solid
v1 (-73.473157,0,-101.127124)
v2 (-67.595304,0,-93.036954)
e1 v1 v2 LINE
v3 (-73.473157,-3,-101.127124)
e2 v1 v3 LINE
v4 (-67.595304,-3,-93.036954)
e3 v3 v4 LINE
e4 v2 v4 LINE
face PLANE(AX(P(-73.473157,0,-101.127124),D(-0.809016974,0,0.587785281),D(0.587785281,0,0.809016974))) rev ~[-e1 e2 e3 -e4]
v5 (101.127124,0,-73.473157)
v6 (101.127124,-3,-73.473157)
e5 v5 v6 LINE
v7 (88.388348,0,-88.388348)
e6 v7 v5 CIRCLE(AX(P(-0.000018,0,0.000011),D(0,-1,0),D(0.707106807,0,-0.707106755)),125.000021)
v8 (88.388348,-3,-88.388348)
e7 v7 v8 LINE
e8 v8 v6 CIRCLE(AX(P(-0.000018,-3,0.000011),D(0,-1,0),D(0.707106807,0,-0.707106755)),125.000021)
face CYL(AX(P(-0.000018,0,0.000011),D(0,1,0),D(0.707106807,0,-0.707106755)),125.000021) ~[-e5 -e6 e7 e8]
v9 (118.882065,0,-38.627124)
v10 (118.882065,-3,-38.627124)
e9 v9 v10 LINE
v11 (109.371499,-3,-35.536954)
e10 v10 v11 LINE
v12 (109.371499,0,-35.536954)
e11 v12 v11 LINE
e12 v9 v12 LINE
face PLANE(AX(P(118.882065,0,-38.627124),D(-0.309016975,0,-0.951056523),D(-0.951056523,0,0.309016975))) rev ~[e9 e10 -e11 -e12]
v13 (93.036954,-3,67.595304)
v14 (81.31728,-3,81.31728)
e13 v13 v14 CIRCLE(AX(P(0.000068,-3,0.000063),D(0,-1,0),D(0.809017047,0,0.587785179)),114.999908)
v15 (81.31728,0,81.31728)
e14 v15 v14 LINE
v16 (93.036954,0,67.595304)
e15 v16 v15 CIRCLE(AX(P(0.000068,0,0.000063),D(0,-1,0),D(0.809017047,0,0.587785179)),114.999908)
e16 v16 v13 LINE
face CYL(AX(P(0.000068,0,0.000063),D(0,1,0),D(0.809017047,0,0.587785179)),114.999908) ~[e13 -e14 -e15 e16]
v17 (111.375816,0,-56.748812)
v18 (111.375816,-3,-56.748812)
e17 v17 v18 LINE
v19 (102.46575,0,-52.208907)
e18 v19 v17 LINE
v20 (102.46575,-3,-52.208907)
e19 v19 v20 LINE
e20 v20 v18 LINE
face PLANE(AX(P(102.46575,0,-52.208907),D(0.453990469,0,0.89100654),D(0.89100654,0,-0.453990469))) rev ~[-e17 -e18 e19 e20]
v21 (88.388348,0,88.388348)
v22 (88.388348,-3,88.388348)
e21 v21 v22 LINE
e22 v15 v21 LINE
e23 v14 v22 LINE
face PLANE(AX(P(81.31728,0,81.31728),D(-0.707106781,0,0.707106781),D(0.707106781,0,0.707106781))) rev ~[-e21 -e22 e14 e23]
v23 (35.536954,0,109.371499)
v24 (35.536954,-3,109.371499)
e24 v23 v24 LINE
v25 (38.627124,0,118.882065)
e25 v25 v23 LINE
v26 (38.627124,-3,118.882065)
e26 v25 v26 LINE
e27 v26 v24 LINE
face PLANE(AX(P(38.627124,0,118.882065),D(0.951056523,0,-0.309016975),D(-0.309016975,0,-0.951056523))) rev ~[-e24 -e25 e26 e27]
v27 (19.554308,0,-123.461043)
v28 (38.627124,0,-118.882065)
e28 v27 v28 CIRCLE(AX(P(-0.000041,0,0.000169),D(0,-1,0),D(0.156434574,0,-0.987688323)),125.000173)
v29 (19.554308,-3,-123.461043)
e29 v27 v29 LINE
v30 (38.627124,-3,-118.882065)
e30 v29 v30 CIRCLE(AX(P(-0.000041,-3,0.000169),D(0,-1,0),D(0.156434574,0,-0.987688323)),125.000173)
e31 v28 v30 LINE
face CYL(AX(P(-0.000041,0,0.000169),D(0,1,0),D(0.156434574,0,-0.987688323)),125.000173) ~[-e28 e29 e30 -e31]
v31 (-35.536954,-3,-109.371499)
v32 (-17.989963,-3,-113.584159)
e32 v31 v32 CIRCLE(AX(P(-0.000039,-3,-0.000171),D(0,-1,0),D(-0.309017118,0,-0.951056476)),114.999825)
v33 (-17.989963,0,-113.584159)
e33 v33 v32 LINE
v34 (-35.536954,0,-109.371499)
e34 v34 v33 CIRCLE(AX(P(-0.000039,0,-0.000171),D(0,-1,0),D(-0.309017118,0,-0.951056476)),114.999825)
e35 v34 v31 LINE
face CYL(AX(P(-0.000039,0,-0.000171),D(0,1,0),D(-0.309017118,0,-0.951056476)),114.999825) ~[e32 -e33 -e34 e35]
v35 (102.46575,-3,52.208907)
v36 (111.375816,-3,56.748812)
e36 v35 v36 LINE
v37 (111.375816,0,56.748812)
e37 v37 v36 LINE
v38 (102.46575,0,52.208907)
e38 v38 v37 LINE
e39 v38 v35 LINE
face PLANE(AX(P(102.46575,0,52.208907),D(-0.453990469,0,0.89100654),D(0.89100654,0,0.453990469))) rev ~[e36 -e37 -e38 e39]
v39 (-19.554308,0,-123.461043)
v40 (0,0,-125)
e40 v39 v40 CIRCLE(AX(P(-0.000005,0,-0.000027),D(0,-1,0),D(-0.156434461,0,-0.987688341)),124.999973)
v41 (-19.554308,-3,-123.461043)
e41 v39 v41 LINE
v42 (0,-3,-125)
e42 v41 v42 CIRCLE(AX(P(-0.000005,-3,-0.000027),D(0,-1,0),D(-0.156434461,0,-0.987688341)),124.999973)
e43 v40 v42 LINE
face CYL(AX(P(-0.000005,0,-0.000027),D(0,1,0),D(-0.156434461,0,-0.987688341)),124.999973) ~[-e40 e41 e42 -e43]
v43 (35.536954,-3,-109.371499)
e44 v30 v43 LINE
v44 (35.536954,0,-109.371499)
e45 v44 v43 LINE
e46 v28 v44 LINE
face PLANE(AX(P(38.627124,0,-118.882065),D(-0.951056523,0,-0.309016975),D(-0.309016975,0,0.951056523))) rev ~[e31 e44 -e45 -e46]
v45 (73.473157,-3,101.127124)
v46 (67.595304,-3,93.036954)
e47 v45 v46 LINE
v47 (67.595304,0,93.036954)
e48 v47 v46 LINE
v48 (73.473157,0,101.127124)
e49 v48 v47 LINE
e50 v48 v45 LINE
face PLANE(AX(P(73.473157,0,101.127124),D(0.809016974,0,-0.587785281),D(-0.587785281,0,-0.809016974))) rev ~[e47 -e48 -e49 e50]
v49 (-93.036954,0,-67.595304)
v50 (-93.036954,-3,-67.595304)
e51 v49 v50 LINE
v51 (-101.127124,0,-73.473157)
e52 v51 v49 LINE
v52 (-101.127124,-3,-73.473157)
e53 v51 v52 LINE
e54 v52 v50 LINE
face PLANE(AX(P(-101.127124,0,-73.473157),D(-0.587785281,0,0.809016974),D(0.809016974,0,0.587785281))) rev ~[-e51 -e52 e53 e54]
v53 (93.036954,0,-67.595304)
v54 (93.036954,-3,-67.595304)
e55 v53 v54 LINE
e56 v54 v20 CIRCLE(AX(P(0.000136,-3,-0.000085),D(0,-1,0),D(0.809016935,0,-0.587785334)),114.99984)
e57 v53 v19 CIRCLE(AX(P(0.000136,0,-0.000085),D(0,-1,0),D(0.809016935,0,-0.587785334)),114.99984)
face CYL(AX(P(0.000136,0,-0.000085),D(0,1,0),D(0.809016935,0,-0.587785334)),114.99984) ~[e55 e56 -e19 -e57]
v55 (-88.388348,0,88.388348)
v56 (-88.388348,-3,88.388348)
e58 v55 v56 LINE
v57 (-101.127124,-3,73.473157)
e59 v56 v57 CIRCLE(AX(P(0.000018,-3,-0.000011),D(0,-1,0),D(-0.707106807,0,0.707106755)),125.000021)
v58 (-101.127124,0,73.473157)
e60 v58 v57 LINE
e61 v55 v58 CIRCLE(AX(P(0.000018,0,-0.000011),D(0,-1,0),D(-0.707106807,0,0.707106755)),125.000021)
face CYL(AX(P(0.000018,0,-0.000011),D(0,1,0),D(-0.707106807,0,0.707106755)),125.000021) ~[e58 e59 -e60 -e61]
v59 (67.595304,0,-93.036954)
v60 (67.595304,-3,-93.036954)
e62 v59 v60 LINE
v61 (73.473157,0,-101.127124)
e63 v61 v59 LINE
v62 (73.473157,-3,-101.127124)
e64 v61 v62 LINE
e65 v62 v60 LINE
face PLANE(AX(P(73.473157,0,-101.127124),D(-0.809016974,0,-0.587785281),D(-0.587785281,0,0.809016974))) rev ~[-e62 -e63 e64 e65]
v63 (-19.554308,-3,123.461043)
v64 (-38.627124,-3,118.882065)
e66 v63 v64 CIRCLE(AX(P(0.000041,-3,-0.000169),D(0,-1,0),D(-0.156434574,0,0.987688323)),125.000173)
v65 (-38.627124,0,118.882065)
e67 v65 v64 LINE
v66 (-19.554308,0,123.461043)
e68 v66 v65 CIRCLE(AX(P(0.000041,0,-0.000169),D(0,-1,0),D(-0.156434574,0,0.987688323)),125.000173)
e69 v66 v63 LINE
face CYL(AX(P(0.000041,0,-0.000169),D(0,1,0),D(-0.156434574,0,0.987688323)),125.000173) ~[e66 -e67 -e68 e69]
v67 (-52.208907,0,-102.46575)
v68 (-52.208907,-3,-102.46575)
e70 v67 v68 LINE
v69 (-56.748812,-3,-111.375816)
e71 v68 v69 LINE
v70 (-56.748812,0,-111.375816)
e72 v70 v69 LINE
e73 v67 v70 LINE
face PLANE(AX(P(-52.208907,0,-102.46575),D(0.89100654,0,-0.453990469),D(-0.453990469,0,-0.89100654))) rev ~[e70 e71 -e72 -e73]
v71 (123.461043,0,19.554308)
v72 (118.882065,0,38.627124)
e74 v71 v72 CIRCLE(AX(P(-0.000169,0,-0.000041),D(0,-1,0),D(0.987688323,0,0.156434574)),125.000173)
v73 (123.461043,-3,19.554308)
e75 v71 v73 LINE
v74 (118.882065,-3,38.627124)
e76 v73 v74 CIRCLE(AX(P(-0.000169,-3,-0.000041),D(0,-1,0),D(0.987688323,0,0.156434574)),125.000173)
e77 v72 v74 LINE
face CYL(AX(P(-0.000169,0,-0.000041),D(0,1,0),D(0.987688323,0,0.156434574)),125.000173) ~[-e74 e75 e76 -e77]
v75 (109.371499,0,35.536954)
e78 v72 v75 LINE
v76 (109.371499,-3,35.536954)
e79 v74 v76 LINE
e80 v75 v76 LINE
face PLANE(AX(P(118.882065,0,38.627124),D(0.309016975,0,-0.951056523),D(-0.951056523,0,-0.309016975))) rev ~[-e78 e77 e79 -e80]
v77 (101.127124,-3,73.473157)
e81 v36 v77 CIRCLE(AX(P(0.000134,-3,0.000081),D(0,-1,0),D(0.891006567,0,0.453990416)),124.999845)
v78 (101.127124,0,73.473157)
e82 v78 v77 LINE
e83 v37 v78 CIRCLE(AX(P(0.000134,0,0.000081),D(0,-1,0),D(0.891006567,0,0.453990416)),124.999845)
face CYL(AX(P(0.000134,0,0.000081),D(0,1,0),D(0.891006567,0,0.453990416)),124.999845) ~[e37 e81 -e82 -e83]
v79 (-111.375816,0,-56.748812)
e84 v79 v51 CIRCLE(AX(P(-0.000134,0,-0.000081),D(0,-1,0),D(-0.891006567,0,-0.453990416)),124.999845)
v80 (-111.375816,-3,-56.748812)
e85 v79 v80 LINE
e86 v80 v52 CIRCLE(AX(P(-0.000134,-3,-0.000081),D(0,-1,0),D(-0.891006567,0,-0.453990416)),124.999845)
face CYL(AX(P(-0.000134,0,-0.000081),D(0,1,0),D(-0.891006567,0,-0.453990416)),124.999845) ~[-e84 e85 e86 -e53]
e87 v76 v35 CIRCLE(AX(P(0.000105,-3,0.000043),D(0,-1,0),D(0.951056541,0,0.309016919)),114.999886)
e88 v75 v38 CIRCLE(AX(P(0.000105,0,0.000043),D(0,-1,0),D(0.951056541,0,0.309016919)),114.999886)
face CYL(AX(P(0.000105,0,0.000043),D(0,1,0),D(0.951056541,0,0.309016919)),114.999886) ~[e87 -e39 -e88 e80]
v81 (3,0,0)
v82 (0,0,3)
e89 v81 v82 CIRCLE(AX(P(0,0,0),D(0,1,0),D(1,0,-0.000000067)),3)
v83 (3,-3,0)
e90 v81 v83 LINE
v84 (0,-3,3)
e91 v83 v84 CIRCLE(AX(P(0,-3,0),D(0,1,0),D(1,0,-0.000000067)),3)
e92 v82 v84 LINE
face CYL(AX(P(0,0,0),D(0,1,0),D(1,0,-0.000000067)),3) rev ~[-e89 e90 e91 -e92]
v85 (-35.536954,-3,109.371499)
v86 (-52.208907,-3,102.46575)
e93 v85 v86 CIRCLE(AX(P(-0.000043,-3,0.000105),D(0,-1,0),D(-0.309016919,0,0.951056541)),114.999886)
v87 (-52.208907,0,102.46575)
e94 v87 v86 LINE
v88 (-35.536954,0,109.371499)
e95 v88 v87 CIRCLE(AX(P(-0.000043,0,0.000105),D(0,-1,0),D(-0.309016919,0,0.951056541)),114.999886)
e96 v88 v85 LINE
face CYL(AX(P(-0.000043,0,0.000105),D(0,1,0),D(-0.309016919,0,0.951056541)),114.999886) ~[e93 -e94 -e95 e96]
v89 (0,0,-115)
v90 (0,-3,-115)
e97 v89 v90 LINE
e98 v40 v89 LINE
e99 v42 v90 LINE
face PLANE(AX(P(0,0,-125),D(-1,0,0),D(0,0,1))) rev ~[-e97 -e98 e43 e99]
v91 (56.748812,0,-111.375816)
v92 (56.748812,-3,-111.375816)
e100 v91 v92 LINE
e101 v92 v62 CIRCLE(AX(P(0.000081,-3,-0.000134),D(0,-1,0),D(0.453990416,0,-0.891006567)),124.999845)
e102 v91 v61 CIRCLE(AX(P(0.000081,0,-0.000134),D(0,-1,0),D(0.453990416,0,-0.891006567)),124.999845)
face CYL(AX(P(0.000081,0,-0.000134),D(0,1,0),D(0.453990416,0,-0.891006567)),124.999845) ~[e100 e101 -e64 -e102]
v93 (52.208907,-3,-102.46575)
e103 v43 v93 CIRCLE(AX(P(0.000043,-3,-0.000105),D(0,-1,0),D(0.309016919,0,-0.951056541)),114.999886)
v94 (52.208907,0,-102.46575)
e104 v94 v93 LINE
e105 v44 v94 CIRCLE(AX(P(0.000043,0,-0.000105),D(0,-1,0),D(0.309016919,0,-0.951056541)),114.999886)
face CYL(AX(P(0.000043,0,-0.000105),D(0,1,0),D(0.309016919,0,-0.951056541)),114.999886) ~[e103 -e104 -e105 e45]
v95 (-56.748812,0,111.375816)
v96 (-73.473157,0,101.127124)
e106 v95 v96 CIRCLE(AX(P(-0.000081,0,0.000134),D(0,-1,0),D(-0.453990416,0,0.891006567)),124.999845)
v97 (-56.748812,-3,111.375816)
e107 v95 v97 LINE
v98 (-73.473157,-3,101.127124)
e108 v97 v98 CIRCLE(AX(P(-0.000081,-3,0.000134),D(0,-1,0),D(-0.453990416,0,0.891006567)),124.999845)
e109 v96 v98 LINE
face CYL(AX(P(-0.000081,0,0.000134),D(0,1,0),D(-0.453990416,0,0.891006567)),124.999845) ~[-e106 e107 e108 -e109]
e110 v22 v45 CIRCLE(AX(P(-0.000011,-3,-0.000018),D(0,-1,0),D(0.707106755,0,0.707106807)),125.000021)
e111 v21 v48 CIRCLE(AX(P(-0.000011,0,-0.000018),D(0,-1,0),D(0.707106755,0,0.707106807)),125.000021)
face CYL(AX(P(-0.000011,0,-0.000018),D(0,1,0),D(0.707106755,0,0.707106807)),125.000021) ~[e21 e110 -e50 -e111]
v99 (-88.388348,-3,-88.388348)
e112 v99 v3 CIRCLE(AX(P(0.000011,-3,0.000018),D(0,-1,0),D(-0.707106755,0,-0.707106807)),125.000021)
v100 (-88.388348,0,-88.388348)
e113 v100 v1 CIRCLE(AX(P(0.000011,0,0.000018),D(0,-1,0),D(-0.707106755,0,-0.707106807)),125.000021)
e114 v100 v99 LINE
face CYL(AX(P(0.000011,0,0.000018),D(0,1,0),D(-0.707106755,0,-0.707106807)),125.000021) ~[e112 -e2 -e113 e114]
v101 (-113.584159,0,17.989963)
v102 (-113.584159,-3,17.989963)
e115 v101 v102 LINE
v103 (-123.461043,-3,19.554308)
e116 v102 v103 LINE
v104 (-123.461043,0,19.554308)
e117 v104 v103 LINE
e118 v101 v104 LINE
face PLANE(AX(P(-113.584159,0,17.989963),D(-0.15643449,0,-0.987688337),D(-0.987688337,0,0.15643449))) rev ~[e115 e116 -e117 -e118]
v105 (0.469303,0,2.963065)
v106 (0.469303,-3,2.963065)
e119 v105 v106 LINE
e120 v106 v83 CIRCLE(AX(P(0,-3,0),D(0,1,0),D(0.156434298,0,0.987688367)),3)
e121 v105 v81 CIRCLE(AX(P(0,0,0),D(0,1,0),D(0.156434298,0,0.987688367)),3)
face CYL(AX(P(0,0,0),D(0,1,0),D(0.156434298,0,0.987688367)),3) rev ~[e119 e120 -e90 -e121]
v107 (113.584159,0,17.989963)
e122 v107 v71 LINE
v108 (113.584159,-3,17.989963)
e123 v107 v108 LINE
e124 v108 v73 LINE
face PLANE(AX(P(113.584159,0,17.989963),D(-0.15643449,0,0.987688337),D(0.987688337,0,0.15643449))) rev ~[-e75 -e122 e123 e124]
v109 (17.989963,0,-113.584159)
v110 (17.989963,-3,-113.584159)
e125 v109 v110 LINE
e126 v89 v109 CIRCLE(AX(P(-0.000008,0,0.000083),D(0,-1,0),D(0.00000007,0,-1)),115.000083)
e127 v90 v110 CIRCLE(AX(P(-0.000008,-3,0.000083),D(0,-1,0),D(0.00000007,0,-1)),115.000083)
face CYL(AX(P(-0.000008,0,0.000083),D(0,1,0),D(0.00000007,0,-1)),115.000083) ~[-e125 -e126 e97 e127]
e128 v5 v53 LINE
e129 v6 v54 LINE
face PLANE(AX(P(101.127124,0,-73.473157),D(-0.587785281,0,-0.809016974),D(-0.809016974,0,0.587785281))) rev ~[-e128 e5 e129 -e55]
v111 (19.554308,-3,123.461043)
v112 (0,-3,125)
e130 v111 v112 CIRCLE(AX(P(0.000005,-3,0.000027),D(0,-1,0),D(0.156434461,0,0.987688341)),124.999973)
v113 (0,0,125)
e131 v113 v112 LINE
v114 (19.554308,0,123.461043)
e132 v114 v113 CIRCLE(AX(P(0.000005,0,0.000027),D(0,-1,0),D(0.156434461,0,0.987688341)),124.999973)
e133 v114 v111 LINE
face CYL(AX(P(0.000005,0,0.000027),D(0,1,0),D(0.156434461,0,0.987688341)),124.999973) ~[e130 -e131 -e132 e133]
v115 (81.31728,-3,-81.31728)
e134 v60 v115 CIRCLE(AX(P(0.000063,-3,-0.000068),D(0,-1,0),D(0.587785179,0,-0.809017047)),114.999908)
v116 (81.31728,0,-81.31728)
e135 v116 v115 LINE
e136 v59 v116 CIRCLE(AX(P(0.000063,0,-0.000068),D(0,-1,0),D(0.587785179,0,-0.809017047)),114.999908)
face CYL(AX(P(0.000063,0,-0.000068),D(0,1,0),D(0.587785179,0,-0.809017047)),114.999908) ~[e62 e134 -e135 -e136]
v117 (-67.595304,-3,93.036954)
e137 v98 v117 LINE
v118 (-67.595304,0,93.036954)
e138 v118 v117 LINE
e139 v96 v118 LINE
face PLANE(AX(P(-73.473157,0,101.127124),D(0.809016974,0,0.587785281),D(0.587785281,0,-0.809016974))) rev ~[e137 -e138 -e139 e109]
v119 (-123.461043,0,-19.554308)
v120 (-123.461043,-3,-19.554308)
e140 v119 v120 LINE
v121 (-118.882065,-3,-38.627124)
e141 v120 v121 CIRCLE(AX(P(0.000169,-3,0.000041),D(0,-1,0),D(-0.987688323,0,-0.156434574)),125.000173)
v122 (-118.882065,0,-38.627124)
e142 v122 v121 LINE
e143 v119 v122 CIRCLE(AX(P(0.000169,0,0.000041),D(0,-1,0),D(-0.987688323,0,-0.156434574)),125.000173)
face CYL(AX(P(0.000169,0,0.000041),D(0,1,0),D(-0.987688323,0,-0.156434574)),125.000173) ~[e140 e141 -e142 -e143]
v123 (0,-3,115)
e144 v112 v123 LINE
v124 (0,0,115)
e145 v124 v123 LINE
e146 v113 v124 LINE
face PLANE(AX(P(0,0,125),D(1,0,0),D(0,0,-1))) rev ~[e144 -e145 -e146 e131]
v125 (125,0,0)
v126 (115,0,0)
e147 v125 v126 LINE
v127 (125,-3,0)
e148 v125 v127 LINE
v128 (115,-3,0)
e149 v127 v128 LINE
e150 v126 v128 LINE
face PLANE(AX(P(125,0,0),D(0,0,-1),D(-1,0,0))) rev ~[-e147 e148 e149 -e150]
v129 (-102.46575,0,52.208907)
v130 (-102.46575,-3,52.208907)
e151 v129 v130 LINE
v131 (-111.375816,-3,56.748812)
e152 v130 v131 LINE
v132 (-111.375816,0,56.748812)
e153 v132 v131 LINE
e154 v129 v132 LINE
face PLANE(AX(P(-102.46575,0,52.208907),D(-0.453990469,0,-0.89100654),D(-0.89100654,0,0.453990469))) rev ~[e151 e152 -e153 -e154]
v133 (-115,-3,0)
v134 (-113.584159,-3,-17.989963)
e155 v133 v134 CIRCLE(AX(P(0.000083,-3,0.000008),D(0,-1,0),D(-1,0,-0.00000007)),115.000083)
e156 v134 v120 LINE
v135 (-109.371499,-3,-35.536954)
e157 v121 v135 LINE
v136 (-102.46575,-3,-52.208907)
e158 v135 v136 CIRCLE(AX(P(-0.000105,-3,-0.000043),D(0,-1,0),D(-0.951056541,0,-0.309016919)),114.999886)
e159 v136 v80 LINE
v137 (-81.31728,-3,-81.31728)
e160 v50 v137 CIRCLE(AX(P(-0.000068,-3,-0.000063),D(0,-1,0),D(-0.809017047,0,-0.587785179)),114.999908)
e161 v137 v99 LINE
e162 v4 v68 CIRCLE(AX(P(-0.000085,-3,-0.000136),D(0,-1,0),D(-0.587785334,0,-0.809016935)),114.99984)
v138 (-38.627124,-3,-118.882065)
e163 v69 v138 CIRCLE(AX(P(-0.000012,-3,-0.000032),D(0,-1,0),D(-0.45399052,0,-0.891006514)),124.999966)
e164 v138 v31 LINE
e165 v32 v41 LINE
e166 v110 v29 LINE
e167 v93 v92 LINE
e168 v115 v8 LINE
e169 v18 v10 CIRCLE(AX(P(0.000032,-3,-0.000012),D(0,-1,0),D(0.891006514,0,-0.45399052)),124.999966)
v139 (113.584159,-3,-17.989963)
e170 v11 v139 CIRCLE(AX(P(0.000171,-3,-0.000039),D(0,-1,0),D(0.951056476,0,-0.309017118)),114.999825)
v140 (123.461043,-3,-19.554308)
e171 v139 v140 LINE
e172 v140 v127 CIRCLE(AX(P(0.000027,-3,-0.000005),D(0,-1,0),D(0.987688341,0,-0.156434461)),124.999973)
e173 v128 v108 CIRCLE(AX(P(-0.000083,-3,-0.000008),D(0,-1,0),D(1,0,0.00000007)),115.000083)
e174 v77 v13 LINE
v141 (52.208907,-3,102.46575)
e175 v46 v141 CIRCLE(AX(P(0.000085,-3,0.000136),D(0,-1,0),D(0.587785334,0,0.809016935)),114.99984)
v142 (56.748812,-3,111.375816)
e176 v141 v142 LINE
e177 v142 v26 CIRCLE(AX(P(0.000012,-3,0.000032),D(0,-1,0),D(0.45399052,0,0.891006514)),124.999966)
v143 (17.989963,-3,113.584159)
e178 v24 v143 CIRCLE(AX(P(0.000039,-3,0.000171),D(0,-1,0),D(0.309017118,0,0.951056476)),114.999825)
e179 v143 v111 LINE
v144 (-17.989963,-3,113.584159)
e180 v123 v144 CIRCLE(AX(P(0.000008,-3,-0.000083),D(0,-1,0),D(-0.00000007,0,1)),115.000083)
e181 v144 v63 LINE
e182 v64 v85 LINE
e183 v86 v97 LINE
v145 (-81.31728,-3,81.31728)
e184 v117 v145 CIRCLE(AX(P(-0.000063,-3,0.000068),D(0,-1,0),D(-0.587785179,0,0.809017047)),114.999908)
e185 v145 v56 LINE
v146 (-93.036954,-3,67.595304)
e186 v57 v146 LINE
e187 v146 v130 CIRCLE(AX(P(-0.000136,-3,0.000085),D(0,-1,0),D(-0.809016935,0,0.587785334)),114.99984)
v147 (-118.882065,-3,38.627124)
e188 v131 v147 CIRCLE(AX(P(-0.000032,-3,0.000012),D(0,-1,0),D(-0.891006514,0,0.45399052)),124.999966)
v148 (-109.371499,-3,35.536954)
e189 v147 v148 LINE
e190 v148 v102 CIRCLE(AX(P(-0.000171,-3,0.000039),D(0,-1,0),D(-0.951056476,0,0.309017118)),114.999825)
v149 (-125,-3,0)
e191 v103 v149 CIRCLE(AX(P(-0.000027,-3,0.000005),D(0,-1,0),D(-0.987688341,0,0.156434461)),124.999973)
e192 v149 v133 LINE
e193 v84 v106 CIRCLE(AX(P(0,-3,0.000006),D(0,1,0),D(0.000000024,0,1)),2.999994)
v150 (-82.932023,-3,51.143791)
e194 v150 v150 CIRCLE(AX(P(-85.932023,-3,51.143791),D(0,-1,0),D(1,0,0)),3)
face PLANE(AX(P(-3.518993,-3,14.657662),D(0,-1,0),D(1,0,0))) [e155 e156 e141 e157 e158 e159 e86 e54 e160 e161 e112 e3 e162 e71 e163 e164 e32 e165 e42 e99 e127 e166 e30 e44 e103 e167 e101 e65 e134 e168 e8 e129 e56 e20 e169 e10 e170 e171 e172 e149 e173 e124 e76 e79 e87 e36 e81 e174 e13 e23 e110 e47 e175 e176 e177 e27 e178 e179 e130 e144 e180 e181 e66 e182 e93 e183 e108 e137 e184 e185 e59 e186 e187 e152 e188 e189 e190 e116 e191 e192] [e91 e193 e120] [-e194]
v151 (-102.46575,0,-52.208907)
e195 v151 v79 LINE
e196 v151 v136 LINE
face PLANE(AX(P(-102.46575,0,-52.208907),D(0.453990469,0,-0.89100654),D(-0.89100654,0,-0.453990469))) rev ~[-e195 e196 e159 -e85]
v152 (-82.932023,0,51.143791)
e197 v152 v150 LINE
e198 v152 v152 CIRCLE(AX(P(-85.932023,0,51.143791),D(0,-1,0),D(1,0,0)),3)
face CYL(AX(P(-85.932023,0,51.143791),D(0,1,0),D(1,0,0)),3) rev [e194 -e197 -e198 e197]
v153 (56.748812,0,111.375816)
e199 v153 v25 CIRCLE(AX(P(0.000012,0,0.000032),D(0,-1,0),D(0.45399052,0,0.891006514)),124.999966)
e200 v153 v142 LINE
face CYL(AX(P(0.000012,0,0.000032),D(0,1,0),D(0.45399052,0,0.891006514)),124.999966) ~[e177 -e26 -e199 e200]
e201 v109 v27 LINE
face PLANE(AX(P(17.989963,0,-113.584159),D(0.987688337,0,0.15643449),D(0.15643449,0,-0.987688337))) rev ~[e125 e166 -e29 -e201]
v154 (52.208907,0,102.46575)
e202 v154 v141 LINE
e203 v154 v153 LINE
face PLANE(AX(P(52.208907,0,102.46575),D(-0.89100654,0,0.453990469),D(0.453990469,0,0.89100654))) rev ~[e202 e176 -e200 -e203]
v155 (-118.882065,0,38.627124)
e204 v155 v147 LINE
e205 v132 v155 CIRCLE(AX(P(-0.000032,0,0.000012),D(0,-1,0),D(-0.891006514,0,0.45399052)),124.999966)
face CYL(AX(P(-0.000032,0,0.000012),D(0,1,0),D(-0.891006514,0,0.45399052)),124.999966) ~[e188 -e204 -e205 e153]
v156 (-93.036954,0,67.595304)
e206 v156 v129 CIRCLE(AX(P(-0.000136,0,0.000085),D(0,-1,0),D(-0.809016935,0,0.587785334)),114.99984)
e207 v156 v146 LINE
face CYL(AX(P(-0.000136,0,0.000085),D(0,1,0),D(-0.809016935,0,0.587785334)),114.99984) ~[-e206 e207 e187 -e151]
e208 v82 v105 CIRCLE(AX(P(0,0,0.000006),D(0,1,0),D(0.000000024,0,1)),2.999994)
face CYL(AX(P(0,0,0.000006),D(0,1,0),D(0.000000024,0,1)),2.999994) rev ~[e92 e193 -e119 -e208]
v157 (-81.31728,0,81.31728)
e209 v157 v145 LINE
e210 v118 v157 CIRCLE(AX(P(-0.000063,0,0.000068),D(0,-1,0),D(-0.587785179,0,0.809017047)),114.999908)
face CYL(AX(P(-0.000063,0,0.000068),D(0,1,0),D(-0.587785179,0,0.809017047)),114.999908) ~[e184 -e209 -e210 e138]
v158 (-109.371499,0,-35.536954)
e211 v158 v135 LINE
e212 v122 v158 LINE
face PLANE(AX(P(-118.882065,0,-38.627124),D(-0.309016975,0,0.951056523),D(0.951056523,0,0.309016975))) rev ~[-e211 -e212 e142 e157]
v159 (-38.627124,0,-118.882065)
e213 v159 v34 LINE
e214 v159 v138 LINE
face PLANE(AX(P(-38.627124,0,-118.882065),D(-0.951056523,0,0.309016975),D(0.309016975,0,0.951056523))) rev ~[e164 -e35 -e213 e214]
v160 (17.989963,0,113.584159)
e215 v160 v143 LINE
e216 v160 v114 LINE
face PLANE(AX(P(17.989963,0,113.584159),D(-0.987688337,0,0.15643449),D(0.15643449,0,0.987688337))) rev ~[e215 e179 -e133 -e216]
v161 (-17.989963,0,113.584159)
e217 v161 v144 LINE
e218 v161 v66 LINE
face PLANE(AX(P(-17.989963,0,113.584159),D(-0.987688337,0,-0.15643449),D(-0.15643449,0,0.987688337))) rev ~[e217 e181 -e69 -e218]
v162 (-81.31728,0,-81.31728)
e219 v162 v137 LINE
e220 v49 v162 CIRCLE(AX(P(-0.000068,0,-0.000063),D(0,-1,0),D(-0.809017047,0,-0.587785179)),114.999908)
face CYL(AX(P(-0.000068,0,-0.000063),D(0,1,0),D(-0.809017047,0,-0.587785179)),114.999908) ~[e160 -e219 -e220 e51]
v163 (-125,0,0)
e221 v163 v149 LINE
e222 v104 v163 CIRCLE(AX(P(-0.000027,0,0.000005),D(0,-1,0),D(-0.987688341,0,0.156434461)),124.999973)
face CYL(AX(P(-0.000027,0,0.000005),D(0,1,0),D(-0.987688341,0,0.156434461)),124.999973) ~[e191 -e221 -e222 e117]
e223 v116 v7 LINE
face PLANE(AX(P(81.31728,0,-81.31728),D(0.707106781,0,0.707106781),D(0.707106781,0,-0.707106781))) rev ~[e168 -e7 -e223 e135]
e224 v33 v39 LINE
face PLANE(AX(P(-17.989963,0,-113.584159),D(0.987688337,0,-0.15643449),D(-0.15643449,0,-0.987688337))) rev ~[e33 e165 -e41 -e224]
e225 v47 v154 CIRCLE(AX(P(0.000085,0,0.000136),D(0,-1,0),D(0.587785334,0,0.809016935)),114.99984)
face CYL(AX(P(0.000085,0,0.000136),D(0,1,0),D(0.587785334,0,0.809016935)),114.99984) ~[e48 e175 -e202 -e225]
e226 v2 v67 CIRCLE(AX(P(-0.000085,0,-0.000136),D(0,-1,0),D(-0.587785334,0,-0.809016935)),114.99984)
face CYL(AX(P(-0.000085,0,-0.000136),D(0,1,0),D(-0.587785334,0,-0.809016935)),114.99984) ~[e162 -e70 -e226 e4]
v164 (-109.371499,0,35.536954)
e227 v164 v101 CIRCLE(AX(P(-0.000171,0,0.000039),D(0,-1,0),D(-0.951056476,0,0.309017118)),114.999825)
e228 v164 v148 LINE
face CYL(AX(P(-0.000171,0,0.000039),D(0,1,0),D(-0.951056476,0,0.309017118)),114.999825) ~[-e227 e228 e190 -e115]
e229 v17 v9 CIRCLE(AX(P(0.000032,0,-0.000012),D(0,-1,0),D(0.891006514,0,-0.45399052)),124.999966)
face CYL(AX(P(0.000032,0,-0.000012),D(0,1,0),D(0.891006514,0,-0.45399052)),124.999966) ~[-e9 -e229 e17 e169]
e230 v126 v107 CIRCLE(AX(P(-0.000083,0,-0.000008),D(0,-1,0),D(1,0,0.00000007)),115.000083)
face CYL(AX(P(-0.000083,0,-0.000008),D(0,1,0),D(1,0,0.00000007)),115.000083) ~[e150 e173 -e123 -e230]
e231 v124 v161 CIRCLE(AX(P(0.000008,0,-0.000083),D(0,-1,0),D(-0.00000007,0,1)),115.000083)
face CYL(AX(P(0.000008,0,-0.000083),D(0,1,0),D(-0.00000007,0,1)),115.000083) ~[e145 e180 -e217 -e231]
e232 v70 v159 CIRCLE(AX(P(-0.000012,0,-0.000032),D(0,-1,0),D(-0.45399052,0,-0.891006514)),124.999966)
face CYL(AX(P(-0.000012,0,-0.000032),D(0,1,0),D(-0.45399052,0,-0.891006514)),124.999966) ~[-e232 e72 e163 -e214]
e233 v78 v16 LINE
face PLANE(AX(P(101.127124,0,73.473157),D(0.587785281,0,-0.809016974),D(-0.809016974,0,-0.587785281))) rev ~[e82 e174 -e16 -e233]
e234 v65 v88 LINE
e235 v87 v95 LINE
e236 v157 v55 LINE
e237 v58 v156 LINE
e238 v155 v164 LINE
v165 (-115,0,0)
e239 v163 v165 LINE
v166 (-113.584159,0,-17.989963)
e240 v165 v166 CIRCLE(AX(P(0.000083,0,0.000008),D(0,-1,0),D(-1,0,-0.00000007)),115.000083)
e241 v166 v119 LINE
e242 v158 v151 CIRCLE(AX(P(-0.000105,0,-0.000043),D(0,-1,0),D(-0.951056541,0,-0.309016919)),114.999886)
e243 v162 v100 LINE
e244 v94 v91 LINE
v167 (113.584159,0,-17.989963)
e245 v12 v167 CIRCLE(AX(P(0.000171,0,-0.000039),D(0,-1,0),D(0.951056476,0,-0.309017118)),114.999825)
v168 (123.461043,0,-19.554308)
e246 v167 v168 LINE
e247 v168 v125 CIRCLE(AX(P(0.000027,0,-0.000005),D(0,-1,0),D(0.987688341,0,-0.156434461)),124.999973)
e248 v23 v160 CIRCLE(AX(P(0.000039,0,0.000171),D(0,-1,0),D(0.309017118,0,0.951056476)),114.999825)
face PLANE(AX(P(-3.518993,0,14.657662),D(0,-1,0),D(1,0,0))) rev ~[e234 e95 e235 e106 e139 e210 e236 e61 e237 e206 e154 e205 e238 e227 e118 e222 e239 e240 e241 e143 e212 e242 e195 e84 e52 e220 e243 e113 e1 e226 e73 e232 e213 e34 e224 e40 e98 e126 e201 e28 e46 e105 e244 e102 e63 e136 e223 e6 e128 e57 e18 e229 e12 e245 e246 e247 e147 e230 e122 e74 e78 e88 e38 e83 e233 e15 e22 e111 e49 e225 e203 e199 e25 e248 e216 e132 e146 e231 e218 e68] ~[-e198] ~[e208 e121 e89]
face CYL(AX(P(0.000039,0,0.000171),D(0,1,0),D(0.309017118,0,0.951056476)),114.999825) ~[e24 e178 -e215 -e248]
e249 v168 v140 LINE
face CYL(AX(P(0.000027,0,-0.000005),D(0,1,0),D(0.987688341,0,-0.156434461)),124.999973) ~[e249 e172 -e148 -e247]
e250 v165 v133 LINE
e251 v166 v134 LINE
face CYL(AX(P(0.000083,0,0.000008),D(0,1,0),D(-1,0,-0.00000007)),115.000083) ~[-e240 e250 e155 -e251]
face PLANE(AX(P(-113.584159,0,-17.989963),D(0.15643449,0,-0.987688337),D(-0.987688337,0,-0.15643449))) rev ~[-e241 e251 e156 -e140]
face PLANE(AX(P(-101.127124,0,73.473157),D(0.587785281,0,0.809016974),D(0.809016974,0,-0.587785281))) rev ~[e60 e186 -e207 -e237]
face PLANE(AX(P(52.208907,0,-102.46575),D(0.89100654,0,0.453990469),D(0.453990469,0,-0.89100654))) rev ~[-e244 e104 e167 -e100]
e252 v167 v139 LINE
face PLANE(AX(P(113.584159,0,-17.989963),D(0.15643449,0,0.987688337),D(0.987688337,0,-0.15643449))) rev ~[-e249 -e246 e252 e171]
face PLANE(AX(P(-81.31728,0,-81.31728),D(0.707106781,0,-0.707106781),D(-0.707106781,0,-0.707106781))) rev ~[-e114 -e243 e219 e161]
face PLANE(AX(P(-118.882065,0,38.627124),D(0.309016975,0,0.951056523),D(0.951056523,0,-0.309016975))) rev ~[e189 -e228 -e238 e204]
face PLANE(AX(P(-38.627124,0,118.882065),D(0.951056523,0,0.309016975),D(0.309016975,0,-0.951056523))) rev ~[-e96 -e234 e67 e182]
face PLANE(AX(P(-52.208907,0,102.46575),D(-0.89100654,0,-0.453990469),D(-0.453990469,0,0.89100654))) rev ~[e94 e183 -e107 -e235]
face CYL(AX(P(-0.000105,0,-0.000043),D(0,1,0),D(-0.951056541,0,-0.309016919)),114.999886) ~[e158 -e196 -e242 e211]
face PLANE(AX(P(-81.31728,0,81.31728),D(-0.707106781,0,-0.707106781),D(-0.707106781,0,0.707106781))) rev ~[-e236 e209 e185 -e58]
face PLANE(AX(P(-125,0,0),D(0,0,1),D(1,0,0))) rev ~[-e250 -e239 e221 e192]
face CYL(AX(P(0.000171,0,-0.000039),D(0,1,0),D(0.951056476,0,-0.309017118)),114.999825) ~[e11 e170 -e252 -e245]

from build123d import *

# Parameters (mm, degrees)
F0_R     = 3
F1_DEPTH = 3


with BuildPart() as f1:
    # F0 (on Front) → F1 (new body)
    with BuildSketch(Plane.XZ):
        with BuildLine():
            Line((17.989963, 113.584159), (19.554308, 123.461043))
            ThreePointArc((19.554308, 123.461043), (9.807387, 124.614667), (0, 125))
            Line((0, 125), (0, 115))
            ThreePointArc((0, 115), (-9.022796, 114.645493), (-17.989963, 113.584159))
            Line((-17.989963, 113.584159), (-19.554308, 123.461043))
            ThreePointArc((-19.554308, 123.461043), (-29.18067, 121.54624), (-38.627124, 118.882065))
            Line((-38.627124, 118.882065), (-35.536954, 109.371499))
            ThreePointArc((-35.536954, 109.371499), (-44.008595, 106.246146), (-52.208907, 102.46575))
            Line((-52.208907, 102.46575), (-56.748812, 111.375816))
            ThreePointArc((-56.748812, 111.375816), (-65.312321, 106.580021), (-73.473157, 101.127124))
            Line((-73.473157, 101.127124), (-67.595304, 93.036954))
            ThreePointArc((-67.595304, 93.036954), (-74.686526, 87.446686), (-81.31728, 81.31728))
            Line((-81.31728, 81.31728), (-88.388348, 88.388348))
            ThreePointArc((-88.388348, 88.388348), (-95.050746, 81.181006), (-101.127124, 73.473157))
            Line((-101.127124, 73.473157), (-93.036954, 67.595304))
            ThreePointArc((-93.036954, 67.595304), (-98.053619, 60.087335), (-102.46575, 52.208907))
            ThreePointArc((-102.46575, 52.208907), (-106.246146, 44.008595), (-109.371499, 35.536954))
            ThreePointArc((-109.371499, 35.536954), (-111.822541, 26.846217), (-113.584159, 17.989963))
            ThreePointArc((-113.584159, 17.989963), (-114.645493, 9.022796), (-115, 0))
            ThreePointArc((-115, 0), (-114.645493, -9.022796), (-113.584159, -17.989963))
            ThreePointArc((-113.584159, -17.989963), (-111.822541, -26.846217), (-109.371499, -35.536954))
            ThreePointArc((-109.371499, -35.536954), (-106.246146, -44.008595), (-102.46575, -52.208907))
            ThreePointArc((-102.46575, -52.208907), (-98.053619, -60.087335), (-93.036954, -67.595304))
            ThreePointArc((-93.036954, -67.595304), (-87.446686, -74.686526), (-81.31728, -81.31728))
            ThreePointArc((-81.31728, -81.31728), (-74.686526, -87.446686), (-67.595304, -93.036954))
            ThreePointArc((-67.595304, -93.036954), (-60.087335, -98.053619), (-52.208907, -102.46575))
            ThreePointArc((-52.208907, -102.46575), (-44.008595, -106.246146), (-35.536954, -109.371499))
            ThreePointArc((-35.536954, -109.371499), (-26.846217, -111.822541), (-17.989963, -113.584159))
            ThreePointArc((-17.989963, -113.584159), (-9.022796, -114.645493), (0, -115))
            ThreePointArc((0, -115), (9.022796, -114.645493), (17.989963, -113.584159))
            ThreePointArc((17.989963, -113.584159), (26.846217, -111.822541), (35.536954, -109.371499))
            ThreePointArc((35.536954, -109.371499), (44.008595, -106.246146), (52.208907, -102.46575))
            ThreePointArc((52.208907, -102.46575), (60.087335, -98.053619), (67.595304, -93.036954))
            ThreePointArc((67.595304, -93.036954), (74.686526, -87.446686), (81.31728, -81.31728))
            ThreePointArc((81.31728, -81.31728), (87.446686, -74.686526), (93.036954, -67.595304))
            ThreePointArc((93.036954, -67.595304), (98.053619, -60.087335), (102.46575, -52.208907))
            ThreePointArc((102.46575, -52.208907), (106.246146, -44.008595), (109.371499, -35.536954))
            ThreePointArc((109.371499, -35.536954), (111.822541, -26.846217), (113.584159, -17.989963))
            ThreePointArc((113.584159, -17.989963), (114.645493, -9.022796), (115, 0))
            ThreePointArc((115, 0), (114.645493, 9.022796), (113.584159, 17.989963))
            ThreePointArc((113.584159, 17.989963), (111.822541, 26.846217), (109.371499, 35.536954))
            ThreePointArc((109.371499, 35.536954), (106.246146, 44.008595), (102.46575, 52.208907))
            ThreePointArc((102.46575, 52.208907), (98.053619, 60.087335), (93.036954, 67.595304))
            ThreePointArc((93.036954, 67.595304), (87.446686, 74.686526), (81.31728, 81.31728))
            ThreePointArc((81.31728, 81.31728), (74.686526, 87.446686), (67.595304, 93.036954))
            ThreePointArc((67.595304, 93.036954), (60.087335, 98.053619), (52.208907, 102.46575))
            Line((52.208907, 102.46575), (56.748812, 111.375816))
            ThreePointArc((56.748812, 111.375816), (47.835429, 115.484942), (38.627124, 118.882065))
            Line((38.627124, 118.882065), (35.536954, 109.371499))
            ThreePointArc((35.536954, 109.371499), (26.846217, 111.822541), (17.989963, 113.584159))
        make_face()
        with Locations((-85.932023, 51.143791)):
            Circle(F0_R, mode=Mode.SUBTRACT)
        with BuildLine():
            ThreePointArc((0.469303, 2.963065), (2.281218, 1.948344), (3, 0))
            ThreePointArc((3, 0), (-2.12132, -2.12132), (0, 3))
            ThreePointArc((0, 3), (0.235377, 2.990752), (0.469303, 2.963065))
        make_face(mode=Mode.SUBTRACT)
        with BuildLine():
            Line((73.473157, 101.127124), (67.595304, 93.036954))
            ThreePointArc((67.595304, 93.036954), (74.686526, 87.446686), (81.31728, 81.31728))
            Line((81.31728, 81.31728), (88.388348, 88.388348))
            ThreePointArc((88.388348, 88.388348), (81.181006, 95.050746), (73.473157, 101.127124))
        make_face()
        with BuildLine():
            Line((101.127124, 73.473157), (93.036954, 67.595304))
            ThreePointArc((93.036954, 67.595304), (98.053619, 60.087335), (102.46575, 52.208907))
            Line((102.46575, 52.208907), (111.375816, 56.748812))
            ThreePointArc((111.375816, 56.748812), (106.580021, 65.312321), (101.127124, 73.473157))
        make_face()
        with BuildLine():
            Line((118.882065, 38.627124), (109.371499, 35.536954))
            ThreePointArc((109.371499, 35.536954), (111.822541, 26.846217), (113.584159, 17.989963))
            Line((113.584159, 17.989963), (123.461043, 19.554308))
            ThreePointArc((123.461043, 19.554308), (121.54624, 29.18067), (118.882065, 38.627124))
        make_face()
        with BuildLine():
            Line((125, 0), (115, 0))
            ThreePointArc((115, 0), (114.645493, -9.022796), (113.584159, -17.989963))
            Line((113.584159, -17.989963), (123.461043, -19.554308))
            ThreePointArc((123.461043, -19.554308), (124.614667, -9.807387), (125, 0))
        make_face()
        with BuildLine():
            Line((118.882065, -38.627124), (109.371499, -35.536954))
            ThreePointArc((109.371499, -35.536954), (106.246146, -44.008595), (102.46575, -52.208907))
            Line((102.46575, -52.208907), (111.375816, -56.748812))
            ThreePointArc((111.375816, -56.748812), (115.484942, -47.835429), (118.882065, -38.627124))
        make_face()
        with BuildLine():
            ThreePointArc((-109.371499, 35.536954), (-106.246146, 44.008595), (-102.46575, 52.208907))
            Line((-102.46575, 52.208907), (-111.375816, 56.748812))
            ThreePointArc((-111.375816, 56.748812), (-115.484942, 47.835429), (-118.882065, 38.627124))
            Line((-118.882065, 38.627124), (-109.371499, 35.536954))
        make_face()
        with BuildLine():
            Line((101.127124, -73.473157), (93.036954, -67.595304))
            ThreePointArc((93.036954, -67.595304), (87.446686, -74.686526), (81.31728, -81.31728))
            Line((81.31728, -81.31728), (88.388348, -88.388348))
            ThreePointArc((88.388348, -88.388348), (95.050746, -81.181006), (101.127124, -73.473157))
        make_face()
        with BuildLine():
            ThreePointArc((-115, 0), (-114.645493, 9.022796), (-113.584159, 17.989963))
            Line((-113.584159, 17.989963), (-123.461043, 19.554308))
            ThreePointArc((-123.461043, 19.554308), (-124.614667, 9.807387), (-125, 0))
            Line((-125, 0), (-115, 0))
        make_face()
        with BuildLine():
            Line((73.473157, -101.127124), (67.595304, -93.036954))
            ThreePointArc((67.595304, -93.036954), (60.087335, -98.053619), (52.208907, -102.46575))
            Line((52.208907, -102.46575), (56.748812, -111.375816))
            ThreePointArc((56.748812, -111.375816), (65.312321, -106.580021), (73.473157, -101.127124))
        make_face()
        with BuildLine():
            ThreePointArc((-109.371499, -35.536954), (-111.822541, -26.846217), (-113.584159, -17.989963))
            Line((-113.584159, -17.989963), (-123.461043, -19.554308))
            ThreePointArc((-123.461043, -19.554308), (-121.54624, -29.18067), (-118.882065, -38.627124))
            Line((-118.882065, -38.627124), (-109.371499, -35.536954))
        make_face()
        with BuildLine():
            Line((38.627124, -118.882065), (35.536954, -109.371499))
            ThreePointArc((35.536954, -109.371499), (26.846217, -111.822541), (17.989963, -113.584159))
            Line((17.989963, -113.584159), (19.554308, -123.461043))
            ThreePointArc((19.554308, -123.461043), (29.18067, -121.54624), (38.627124, -118.882065))
        make_face()
        with BuildLine():
            ThreePointArc((-93.036954, -67.595304), (-98.053619, -60.087335), (-102.46575, -52.208907))
            Line((-102.46575, -52.208907), (-111.375816, -56.748812))
            ThreePointArc((-111.375816, -56.748812), (-106.580021, -65.312321), (-101.127124, -73.473157))
            Line((-101.127124, -73.473157), (-93.036954, -67.595304))
        make_face()
        with BuildLine():
            Line((0, -125), (0, -115))
            ThreePointArc((0, -115), (-9.022796, -114.645493), (-17.989963, -113.584159))
            Line((-17.989963, -113.584159), (-19.554308, -123.461043))
            ThreePointArc((-19.554308, -123.461043), (-9.807387, -124.614667), (0, -125))
        make_face()
        with BuildLine():
            ThreePointArc((-67.595304, -93.036954), (-74.686526, -87.446686), (-81.31728, -81.31728))
            Line((-81.31728, -81.31728), (-88.388348, -88.388348))
            ThreePointArc((-88.388348, -88.388348), (-81.181006, -95.050746), (-73.473157, -101.127124))
            Line((-73.473157, -101.127124), (-67.595304, -93.036954))
        make_face()
        with BuildLine():
            Line((-38.627124, -118.882065), (-35.536954, -109.371499))
            ThreePointArc((-35.536954, -109.371499), (-44.008595, -106.246146), (-52.208907, -102.46575))
            Line((-52.208907, -102.46575), (-56.748812, -111.375816))
            ThreePointArc((-56.748812, -111.375816), (-47.835429, -115.484942), (-38.627124, -118.882065))
        make_face()
    extrude(amount=F1_DEPTH)


solid = f1.part
